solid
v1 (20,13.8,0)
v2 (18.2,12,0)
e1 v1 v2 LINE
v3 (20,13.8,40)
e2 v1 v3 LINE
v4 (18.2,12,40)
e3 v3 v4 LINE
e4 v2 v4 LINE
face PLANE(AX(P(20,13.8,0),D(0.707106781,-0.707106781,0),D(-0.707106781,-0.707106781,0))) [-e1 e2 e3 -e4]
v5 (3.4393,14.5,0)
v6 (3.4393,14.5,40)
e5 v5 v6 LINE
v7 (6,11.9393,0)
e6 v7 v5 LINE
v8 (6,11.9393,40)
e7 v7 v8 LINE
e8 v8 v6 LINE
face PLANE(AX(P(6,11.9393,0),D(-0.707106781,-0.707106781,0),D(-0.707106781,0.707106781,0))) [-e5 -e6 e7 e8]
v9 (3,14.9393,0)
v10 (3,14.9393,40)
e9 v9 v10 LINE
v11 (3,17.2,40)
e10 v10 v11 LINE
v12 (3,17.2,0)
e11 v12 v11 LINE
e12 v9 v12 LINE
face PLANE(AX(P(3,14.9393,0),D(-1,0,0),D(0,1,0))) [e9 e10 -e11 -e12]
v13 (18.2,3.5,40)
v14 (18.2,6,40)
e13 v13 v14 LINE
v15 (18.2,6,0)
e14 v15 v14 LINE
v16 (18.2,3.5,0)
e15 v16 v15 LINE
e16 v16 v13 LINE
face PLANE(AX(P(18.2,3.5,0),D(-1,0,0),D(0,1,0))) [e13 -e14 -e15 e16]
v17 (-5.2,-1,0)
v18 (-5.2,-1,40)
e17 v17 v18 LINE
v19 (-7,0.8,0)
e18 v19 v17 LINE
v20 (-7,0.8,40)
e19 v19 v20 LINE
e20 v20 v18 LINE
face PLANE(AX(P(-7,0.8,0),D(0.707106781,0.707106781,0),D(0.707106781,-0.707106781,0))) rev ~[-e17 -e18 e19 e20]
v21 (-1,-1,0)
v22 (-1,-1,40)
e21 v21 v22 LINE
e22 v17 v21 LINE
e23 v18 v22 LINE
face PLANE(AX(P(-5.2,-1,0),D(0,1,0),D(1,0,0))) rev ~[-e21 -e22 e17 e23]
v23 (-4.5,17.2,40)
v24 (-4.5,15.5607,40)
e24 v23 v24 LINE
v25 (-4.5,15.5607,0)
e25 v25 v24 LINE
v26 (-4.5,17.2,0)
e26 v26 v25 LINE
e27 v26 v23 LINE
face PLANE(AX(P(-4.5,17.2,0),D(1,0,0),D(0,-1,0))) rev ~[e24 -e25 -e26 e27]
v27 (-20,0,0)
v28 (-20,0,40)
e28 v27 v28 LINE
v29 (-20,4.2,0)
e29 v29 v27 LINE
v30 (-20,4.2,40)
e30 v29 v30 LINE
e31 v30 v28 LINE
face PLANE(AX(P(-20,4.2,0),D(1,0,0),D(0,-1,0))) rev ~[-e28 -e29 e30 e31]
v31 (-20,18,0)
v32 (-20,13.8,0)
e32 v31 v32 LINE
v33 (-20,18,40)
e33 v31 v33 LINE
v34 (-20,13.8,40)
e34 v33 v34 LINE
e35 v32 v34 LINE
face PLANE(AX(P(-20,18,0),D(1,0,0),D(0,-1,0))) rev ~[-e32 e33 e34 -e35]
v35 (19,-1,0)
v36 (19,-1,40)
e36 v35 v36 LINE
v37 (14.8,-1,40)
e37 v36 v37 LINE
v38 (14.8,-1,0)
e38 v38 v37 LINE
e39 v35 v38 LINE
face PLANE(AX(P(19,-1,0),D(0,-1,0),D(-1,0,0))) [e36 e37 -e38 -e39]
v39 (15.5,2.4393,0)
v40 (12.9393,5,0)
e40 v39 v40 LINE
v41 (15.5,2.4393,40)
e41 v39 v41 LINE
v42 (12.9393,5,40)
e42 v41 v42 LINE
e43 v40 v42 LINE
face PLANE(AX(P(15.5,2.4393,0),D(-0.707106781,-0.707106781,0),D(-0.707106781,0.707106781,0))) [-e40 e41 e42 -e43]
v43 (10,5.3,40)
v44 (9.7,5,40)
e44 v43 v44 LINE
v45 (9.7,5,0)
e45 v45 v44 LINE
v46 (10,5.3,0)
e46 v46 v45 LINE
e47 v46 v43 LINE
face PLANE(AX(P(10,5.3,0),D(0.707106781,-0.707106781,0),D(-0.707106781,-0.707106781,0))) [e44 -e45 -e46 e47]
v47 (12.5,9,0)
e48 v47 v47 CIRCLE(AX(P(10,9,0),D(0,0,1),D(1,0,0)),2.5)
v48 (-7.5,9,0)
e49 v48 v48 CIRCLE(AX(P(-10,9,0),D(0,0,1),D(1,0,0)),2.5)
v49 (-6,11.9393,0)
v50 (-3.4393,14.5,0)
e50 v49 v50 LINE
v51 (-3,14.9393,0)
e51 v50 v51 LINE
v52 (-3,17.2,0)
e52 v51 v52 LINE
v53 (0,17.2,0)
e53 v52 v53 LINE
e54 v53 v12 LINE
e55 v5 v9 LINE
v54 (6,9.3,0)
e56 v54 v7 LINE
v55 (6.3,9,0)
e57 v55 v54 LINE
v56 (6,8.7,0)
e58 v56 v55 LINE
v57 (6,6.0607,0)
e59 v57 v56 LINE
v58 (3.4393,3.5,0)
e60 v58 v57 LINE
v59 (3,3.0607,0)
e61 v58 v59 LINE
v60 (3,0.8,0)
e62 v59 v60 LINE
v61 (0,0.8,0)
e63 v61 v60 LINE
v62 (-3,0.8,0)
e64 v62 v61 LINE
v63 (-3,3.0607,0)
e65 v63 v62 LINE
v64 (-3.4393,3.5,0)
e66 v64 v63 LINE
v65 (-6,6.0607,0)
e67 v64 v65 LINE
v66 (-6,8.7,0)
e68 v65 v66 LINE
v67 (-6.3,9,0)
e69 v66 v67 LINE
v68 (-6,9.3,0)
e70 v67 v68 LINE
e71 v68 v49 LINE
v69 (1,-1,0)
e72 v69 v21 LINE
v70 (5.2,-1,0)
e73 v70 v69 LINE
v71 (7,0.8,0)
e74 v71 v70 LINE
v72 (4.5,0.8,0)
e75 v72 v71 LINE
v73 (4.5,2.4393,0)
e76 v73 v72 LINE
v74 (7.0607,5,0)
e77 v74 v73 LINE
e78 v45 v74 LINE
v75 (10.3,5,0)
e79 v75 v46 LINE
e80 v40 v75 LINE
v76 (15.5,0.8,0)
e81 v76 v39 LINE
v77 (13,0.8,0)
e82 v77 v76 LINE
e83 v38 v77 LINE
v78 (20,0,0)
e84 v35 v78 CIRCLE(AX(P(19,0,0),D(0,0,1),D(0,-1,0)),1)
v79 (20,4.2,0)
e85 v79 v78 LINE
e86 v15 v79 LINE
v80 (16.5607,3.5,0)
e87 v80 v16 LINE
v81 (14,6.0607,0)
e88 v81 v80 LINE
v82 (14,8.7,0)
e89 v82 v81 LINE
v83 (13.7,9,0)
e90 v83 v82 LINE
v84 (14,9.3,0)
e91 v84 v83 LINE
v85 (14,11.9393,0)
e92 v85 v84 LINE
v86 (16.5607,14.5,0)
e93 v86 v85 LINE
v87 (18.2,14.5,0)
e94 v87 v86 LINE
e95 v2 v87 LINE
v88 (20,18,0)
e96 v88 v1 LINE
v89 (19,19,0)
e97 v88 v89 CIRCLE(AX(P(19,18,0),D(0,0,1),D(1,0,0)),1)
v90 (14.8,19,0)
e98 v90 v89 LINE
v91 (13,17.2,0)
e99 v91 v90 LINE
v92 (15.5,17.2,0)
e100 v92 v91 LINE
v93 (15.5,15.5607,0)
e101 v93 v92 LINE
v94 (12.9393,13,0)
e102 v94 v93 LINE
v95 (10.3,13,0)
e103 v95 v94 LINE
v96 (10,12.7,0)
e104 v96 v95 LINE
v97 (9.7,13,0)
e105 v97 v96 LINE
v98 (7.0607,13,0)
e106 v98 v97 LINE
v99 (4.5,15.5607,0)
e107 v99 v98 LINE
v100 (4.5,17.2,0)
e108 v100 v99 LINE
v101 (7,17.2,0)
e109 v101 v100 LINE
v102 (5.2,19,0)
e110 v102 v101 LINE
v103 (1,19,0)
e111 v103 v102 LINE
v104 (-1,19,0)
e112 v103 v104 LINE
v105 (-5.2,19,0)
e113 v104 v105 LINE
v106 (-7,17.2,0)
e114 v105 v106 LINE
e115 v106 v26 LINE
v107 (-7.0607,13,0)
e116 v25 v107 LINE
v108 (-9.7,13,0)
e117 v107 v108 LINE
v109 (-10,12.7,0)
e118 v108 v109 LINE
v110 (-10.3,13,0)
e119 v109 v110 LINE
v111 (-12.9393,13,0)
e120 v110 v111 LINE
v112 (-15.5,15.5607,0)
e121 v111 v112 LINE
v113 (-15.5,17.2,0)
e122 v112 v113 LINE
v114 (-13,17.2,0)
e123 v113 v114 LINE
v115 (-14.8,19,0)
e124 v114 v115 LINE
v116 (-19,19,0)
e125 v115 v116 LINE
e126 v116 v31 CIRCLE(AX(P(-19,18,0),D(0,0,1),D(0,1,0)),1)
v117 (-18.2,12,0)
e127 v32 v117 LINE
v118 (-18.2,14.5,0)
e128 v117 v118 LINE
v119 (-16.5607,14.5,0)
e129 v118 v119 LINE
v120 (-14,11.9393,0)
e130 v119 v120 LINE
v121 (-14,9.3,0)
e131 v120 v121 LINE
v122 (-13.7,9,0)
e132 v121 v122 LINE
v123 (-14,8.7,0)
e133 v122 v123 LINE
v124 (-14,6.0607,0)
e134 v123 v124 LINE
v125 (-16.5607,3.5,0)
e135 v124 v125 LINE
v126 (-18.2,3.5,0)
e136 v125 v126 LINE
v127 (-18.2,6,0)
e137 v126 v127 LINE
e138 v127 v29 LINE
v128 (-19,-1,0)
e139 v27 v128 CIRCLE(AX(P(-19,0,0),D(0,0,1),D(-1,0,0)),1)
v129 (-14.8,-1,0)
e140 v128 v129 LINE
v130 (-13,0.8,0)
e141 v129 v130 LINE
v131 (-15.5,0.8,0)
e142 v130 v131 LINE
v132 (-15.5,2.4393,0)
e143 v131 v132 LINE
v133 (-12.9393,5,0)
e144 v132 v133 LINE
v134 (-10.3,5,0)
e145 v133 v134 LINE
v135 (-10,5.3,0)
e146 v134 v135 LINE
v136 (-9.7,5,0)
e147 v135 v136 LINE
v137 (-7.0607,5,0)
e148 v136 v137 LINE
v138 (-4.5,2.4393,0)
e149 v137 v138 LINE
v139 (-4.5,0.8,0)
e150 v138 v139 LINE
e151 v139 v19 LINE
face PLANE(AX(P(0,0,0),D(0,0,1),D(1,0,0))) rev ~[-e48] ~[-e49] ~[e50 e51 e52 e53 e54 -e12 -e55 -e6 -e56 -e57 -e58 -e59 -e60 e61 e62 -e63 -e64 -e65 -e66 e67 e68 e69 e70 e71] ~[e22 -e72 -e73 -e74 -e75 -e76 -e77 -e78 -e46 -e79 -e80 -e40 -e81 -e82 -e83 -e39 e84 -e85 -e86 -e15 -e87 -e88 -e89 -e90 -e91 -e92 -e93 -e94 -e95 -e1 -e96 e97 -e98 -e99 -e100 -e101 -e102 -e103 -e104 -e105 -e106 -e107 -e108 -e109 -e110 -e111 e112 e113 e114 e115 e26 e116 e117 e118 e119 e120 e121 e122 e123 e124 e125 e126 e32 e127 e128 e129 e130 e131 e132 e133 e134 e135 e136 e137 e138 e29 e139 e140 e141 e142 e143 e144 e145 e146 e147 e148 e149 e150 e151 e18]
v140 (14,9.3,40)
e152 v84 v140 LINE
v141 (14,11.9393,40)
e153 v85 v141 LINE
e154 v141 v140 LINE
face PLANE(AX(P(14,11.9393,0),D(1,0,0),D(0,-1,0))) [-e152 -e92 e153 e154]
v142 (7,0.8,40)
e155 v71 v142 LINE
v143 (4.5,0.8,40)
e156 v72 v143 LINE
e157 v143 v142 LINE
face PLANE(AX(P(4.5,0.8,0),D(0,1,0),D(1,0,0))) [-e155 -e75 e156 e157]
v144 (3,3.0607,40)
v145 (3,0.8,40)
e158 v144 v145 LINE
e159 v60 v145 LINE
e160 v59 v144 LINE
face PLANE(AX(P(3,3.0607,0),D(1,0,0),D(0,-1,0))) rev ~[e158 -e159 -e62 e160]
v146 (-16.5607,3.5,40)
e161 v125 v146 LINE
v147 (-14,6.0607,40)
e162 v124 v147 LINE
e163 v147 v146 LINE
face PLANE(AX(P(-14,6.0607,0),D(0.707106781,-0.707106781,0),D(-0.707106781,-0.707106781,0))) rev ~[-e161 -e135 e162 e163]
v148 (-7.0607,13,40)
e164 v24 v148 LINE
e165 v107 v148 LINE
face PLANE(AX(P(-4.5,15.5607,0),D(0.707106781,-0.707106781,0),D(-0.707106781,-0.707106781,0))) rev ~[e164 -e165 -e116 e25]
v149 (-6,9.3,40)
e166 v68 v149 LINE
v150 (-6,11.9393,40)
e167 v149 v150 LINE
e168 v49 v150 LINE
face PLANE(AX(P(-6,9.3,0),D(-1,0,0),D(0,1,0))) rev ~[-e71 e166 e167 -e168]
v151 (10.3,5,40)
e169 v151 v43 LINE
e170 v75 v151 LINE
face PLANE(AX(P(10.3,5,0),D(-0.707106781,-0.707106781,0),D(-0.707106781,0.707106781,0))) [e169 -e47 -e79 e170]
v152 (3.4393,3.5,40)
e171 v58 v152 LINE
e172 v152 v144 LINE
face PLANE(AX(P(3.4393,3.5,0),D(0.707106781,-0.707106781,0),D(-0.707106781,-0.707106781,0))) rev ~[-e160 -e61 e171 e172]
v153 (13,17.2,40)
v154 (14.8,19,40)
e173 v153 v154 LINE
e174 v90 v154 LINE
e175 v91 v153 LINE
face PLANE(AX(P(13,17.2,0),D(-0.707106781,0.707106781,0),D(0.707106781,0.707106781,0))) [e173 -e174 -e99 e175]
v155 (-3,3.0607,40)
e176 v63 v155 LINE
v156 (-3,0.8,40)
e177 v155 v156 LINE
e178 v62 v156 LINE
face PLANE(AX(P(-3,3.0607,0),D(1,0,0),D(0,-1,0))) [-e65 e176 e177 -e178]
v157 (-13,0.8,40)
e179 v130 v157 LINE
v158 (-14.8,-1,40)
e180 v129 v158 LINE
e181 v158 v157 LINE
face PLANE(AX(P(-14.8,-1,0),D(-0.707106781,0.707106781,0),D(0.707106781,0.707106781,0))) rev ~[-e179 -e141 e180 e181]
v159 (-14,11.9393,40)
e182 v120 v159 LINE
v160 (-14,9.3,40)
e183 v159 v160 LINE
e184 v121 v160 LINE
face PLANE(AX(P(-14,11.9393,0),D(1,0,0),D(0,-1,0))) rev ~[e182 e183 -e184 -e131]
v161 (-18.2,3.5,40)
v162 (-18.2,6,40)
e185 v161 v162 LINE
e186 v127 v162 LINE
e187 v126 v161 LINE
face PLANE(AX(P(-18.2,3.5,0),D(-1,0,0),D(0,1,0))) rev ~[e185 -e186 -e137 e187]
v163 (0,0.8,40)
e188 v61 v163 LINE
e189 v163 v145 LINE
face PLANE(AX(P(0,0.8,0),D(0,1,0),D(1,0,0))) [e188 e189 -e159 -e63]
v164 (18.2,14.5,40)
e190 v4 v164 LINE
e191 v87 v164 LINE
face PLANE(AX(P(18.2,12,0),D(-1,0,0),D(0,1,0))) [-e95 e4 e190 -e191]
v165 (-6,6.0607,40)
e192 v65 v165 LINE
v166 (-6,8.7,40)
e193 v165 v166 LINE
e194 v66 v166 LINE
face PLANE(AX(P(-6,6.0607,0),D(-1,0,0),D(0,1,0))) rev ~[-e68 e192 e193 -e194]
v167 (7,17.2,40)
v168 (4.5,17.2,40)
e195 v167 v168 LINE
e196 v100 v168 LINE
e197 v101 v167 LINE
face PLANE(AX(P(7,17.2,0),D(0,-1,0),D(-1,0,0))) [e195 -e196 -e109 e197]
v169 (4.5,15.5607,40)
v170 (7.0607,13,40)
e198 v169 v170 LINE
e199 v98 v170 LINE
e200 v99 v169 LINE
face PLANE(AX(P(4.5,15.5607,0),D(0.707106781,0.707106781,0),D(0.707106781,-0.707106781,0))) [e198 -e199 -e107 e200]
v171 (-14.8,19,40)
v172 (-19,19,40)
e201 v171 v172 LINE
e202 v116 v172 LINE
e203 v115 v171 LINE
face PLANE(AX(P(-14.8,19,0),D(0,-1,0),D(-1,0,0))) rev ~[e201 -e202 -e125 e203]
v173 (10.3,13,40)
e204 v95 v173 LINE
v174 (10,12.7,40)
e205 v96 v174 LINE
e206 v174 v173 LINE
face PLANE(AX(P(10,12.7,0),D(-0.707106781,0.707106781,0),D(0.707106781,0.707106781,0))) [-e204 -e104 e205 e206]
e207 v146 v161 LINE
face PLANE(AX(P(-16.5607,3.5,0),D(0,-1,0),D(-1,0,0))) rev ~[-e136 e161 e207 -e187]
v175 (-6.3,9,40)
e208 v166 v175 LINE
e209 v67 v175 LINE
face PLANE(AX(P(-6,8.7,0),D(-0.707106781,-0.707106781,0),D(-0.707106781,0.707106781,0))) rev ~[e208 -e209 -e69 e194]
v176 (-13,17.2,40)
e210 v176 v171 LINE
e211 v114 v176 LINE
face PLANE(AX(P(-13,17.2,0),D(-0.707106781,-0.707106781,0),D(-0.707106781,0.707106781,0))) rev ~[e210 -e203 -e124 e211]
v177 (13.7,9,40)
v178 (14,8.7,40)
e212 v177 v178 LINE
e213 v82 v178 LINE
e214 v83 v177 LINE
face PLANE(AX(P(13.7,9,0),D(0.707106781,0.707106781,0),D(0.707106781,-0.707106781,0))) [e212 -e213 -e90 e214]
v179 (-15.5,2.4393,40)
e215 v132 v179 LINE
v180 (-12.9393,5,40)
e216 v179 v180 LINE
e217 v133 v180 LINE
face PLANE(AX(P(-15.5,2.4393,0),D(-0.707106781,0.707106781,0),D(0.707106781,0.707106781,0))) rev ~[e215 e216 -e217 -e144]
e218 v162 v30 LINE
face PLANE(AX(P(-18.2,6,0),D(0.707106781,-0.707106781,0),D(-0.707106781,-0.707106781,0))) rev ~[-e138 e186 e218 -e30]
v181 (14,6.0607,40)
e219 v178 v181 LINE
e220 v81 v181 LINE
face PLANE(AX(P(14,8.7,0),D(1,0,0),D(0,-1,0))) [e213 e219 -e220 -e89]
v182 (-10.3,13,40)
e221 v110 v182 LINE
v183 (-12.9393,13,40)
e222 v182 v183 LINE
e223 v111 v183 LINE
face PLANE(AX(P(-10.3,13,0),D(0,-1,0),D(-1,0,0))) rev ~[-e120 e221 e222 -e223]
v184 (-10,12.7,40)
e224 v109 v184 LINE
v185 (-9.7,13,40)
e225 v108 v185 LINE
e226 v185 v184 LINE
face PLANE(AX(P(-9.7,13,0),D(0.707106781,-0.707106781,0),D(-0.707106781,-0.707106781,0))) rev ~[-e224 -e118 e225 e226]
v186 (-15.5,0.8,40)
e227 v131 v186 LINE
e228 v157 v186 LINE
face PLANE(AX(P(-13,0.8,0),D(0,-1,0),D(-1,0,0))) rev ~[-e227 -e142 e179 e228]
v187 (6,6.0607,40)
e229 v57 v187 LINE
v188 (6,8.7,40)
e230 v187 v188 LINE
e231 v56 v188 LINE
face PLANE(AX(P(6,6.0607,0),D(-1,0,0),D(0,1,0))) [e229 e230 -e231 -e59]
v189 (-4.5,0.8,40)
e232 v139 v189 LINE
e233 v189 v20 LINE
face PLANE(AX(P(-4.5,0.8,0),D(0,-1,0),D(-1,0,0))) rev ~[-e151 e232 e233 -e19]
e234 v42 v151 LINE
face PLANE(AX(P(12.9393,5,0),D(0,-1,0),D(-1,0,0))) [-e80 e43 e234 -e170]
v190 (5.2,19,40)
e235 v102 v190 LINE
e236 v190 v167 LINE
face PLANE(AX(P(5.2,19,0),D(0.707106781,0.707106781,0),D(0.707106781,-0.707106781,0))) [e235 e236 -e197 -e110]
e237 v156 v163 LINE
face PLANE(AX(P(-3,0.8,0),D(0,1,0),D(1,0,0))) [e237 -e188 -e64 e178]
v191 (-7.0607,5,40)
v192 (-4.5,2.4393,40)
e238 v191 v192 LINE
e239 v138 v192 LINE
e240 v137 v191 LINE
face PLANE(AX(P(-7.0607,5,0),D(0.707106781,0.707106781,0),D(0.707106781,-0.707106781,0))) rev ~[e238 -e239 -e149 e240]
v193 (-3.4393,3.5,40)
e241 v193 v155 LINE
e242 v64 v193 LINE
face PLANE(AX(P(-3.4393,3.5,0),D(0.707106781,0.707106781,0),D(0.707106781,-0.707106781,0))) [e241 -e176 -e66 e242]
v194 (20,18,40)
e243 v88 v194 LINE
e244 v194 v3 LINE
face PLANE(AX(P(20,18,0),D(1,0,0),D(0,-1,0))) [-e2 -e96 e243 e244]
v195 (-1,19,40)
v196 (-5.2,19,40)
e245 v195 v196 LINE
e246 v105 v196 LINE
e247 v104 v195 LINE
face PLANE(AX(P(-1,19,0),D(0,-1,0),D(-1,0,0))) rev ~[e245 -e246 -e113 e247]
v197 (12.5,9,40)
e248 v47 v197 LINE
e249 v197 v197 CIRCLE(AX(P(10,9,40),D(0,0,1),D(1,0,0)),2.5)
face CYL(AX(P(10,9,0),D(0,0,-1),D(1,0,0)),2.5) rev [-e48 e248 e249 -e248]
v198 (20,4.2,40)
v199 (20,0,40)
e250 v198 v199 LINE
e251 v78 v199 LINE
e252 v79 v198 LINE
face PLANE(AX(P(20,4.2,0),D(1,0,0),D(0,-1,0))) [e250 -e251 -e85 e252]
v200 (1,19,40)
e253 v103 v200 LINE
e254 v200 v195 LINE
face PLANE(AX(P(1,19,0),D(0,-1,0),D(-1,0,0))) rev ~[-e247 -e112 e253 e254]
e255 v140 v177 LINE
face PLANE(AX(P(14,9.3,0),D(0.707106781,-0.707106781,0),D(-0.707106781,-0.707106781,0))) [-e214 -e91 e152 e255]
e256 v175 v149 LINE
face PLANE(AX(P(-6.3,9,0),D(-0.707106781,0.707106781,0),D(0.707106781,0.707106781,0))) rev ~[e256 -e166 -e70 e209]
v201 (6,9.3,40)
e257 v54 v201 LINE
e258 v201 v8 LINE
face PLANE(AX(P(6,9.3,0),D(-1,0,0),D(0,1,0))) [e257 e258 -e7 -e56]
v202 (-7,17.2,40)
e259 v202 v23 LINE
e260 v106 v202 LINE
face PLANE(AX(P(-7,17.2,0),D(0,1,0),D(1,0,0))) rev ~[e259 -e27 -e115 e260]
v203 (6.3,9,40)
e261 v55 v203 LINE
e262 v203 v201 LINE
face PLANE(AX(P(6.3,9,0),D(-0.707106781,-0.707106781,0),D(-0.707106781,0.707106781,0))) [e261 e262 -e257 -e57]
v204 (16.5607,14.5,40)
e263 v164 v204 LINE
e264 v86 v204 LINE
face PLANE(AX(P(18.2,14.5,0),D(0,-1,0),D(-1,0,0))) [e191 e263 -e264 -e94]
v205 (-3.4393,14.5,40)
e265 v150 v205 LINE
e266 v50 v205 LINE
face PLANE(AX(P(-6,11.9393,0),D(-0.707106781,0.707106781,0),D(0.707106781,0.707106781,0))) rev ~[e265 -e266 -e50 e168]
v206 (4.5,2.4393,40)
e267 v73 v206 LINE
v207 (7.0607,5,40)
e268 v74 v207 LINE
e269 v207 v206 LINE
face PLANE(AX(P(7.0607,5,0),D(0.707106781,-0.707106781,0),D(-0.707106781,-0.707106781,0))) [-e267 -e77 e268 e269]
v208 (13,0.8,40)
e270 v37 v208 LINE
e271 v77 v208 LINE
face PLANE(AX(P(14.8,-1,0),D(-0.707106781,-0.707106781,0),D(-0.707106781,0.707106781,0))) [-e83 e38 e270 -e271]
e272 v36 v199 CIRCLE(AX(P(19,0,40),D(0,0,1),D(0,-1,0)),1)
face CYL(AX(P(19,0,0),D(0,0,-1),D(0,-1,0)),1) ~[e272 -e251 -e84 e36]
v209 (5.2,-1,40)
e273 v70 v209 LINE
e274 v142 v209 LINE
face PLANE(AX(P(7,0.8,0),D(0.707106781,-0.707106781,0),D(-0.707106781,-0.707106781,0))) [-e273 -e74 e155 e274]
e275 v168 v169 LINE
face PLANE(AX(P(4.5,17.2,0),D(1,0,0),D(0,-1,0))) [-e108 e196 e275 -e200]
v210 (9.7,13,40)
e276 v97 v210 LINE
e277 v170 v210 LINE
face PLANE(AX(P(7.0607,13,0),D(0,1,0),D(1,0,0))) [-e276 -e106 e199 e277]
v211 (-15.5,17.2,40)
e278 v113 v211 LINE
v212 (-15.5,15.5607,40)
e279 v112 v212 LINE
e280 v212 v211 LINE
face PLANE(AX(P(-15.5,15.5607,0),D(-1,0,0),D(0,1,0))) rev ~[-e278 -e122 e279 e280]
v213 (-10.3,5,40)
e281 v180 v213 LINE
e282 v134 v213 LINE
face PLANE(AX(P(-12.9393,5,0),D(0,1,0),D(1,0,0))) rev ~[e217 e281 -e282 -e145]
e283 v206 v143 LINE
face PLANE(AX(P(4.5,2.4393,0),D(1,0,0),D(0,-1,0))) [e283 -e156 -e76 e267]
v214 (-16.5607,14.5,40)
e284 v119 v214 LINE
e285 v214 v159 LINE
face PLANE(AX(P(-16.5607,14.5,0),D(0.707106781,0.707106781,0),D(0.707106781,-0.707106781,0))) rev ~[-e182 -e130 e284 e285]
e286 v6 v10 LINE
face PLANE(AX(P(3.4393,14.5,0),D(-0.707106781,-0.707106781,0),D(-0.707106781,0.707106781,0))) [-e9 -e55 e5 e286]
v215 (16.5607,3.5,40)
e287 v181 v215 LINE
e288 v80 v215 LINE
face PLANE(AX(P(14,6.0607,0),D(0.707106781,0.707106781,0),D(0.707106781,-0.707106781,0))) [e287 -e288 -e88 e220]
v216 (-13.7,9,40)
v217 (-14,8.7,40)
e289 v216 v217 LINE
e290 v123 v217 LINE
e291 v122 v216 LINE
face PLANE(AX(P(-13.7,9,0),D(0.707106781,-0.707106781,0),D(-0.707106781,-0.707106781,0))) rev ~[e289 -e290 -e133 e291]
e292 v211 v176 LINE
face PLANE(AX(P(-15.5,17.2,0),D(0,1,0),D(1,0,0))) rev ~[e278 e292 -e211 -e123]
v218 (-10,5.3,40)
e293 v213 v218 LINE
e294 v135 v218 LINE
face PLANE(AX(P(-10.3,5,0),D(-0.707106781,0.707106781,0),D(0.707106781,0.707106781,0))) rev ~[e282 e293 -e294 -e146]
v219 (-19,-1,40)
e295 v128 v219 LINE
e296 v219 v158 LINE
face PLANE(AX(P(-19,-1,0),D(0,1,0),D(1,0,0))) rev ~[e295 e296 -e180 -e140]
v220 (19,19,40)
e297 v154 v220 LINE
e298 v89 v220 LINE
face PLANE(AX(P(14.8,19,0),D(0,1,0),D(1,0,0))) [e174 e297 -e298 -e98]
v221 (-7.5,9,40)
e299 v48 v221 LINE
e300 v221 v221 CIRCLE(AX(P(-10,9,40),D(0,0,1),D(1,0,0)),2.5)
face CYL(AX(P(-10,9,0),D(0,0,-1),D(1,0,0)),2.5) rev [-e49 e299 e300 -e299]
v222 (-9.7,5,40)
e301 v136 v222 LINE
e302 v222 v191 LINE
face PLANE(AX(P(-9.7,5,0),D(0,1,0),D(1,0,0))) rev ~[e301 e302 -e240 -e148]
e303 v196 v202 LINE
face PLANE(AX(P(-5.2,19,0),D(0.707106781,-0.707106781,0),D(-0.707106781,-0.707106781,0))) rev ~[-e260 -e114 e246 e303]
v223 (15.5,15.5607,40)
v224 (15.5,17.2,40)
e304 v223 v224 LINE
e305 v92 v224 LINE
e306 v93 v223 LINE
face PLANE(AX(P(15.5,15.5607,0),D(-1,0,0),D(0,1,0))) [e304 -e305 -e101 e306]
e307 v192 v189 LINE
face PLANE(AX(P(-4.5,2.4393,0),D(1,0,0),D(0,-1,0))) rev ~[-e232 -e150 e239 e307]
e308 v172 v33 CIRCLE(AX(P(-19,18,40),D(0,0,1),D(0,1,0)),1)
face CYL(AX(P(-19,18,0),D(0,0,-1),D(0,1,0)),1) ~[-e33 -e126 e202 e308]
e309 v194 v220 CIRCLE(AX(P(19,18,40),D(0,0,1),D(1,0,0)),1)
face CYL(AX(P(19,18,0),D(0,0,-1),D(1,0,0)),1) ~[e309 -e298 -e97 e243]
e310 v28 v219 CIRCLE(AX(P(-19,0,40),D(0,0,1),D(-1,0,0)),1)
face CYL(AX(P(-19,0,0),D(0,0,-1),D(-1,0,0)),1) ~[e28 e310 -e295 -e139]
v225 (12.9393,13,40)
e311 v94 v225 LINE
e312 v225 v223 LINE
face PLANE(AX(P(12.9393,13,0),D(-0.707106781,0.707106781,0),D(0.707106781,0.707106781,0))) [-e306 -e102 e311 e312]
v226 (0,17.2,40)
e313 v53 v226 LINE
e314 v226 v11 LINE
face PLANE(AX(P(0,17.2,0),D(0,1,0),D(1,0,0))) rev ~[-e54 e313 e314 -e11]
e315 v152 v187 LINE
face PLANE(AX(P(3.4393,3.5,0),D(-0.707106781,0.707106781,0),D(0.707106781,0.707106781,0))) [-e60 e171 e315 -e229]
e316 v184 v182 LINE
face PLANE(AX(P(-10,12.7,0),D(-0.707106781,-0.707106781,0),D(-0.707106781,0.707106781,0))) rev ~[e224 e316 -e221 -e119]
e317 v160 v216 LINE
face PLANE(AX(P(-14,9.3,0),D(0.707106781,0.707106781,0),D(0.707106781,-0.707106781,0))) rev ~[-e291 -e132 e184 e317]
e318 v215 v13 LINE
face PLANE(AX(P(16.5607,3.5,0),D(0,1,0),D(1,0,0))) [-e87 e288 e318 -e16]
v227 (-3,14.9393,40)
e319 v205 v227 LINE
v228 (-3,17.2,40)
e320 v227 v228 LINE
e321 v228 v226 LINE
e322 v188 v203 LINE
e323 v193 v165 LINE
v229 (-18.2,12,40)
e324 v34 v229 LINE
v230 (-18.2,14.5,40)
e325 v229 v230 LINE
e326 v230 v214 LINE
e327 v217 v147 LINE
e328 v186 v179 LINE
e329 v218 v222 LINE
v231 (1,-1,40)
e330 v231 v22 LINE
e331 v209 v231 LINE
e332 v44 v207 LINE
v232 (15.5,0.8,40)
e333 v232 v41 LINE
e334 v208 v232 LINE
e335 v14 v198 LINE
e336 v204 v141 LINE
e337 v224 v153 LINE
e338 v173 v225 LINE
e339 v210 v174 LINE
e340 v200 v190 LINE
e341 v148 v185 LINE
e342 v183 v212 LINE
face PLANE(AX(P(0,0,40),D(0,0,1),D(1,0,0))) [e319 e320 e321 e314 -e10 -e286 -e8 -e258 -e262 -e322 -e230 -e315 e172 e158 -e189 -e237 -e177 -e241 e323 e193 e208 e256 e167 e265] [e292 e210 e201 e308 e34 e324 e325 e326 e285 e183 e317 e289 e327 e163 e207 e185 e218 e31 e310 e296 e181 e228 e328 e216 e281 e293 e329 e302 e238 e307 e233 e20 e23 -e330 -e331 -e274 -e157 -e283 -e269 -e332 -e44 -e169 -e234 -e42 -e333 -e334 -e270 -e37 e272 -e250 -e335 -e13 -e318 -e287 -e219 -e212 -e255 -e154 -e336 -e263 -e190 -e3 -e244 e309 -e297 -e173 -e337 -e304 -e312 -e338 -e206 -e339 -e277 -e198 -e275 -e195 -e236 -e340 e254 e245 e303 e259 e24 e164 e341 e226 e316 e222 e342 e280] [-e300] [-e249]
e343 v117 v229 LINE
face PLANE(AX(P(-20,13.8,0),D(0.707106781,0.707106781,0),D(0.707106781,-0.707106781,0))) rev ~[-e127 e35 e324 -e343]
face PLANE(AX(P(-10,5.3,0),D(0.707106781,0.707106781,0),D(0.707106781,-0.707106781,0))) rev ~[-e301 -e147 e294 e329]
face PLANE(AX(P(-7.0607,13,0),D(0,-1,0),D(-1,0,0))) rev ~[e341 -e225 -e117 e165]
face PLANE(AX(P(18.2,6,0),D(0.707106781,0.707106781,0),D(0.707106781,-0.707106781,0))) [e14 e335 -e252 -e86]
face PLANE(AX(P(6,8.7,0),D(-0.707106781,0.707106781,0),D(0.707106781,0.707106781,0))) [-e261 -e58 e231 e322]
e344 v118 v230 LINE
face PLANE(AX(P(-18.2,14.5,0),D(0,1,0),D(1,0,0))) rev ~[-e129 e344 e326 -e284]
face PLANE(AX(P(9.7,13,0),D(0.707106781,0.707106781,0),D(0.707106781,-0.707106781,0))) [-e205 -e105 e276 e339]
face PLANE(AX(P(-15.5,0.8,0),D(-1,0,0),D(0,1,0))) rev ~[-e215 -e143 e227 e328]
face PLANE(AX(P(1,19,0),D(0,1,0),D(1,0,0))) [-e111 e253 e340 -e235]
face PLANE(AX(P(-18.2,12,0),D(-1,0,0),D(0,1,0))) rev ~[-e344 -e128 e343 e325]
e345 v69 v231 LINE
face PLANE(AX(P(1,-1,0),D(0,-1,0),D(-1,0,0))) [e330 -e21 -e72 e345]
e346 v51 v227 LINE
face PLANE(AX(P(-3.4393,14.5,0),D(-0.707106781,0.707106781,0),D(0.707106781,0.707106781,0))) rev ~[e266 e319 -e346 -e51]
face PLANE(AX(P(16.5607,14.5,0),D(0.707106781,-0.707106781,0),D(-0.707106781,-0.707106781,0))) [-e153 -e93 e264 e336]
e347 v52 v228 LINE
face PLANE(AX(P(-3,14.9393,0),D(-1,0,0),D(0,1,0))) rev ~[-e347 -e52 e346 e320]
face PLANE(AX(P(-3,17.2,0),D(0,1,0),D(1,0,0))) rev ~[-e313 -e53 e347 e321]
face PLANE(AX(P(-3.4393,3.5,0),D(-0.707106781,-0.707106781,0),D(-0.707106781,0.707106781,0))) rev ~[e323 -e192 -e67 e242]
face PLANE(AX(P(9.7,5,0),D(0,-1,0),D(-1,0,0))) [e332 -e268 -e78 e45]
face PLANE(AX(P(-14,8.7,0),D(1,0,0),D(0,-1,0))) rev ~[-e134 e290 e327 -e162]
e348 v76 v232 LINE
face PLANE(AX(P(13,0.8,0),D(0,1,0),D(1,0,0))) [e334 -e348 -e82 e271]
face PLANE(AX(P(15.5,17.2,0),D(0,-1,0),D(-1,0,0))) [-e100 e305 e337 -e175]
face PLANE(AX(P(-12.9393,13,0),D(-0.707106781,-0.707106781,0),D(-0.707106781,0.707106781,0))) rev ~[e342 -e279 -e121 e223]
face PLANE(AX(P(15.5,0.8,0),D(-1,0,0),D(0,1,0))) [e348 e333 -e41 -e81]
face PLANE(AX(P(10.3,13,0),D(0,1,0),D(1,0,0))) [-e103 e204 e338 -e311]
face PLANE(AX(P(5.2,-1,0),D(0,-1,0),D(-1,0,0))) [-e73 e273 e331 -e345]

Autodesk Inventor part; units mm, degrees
ref_plane "YZ Plane" through (0, 0, 0) normal (1, 0, 0) x (0, 1, 0)
ref_plane "XZ Plane" through (0, 0, 0) normal (0, 1, 0) x (-1, 0, 0)
ref_plane "XY Plane" through (0, 0, 0) normal (0, 0, 1) x (1, 0, 0)
sketch "Sketch1" plane through (0, 0, 0) normal (0, 0, 1) x (1, 0, 0)
  line L0 (-14, 8.7) -> (-14, 6.0607)
  line L1 (-14, 8.7) -> (-14, 6.0607)
  line L2 (-14, 6.0607) -> (-16.5607, 3.5)
  line L3 (-14, 6.0607) -> (-16.5607, 3.5)
  line L4 (-16.5607, 3.5) -> (-18.2, 3.5)
  line L5 (-16.5607, 3.5) -> (-18.2, 3.5)
  line L6 (-18.2, 3.5) -> (-18.2, 6)
  line L7 (-18.2, 3.5) -> (-18.2, 6)
  line L8 (-20, 4.2) -> (-20, 0)
  line L9 (-18.2, 6) -> (-20, 4.2)
  line L10 (-20, 4.2) -> (-20, 0)
  line L11 (-19, -1) -> (-14.8, -1)
  line L12 (-19, -1) -> (-14.8, -1)
  line L13 (-14.8, -1) -> (-13, 0.8)
  line L14 (-14.8, -1) -> (-13, 0.8)
  line L15 (-15.5, 0.8) -> (-15.5, 2.4393)
  line L16 (-13, 0.8) -> (-15.5, 0.8)
  line L17 (-15.5, 0.8) -> (-15.5, 2.4393)
  line L18 (-12.9393, 5) -> (-10.3, 5)
  line L19 (-15.5, 2.4393) -> (-12.9393, 5)
  line L20 (-12.9393, 5) -> (-10.3, 5)
  line L21 (-10, 5.3) -> (-9.7, 5)
  line L22 (-10.3, 5) -> (-10, 5.3)
  line L23 (-13.7, 9) -> (-14, 8.7)
  line L24 (-13.7, 9) -> (-14, 8.7)
  line L25 (-10, 9) -> (-10, 10.0607)
  circle A0 centre (-10, 9) radius 2.5
  arc A1 (-20, 0) -> (-19, -1) centre (-19, 0) ccw
  arc A2 (-20, 0) -> (-19, -1) centre (-19, 0) ccw
  line L26 (-7.0607, 5) -> (-4.5, 2.4393)
  line L27 (-4.5, 2.4393) -> (-4.5, 0.8)
  line L28 (-4.5, 0.8) -> (-7, 0.8)
  line L29 (-7, 0.8) -> (-5.2, -1)
  line L30 (-3.4393, 3.5) -> (-6, 6.0607)
  line L31 (-1.8, 6) -> (-1.8, 3.5) construction
  line L32 (-1.8, 3.5) -> (-3.4393, 3.5) construction
  line L33 (0, 4.2) -> (-1.8, 6) construction
  line L34 (-5.2, -1) -> (-1, -1)
  line L35 (0, 0) -> (0, 4.2)
  arc A3 (-1, -1) -> (0, 0) centre (-1, 0) ccw construction
  line L36 (-9.7, 5) -> (-7.0607, 5)
  line L37 (-6, 6.0607) -> (-6, 8.7)
  line L38 (-6, 8.7) -> (-6.3, 9)
  line L39 (-10, 5.3) -> (-9.7, 5)
  line L40 (-6, 11.9393) -> (-3.4393, 14.5)
  line L41 (-3.4393, 14.5) -> (-1.8, 14.5) construction
  line L42 (-1.8, 14.5) -> (-1.8, 12) construction
  line L43 (-1.8, 12) -> (0, 13.8) construction
  line L44 (-4.5, 15.5607) -> (-7.0607, 13)
  line L45 (-7, 17.2) -> (-4.5, 17.2)
  line L46 (-4.5, 17.2) -> (-4.5, 15.5607)
  line L47 (-5.2, 19) -> (-7, 17.2)
  line L48 (0, 13.8) -> (0, 18)
  line L49 (-1, 19) -> (-5.2, 19)
  arc A4 (0, 18) -> (-1, 19) centre (-1, 18) ccw construction
  line L50 (-6, 9.3) -> (-6, 11.9393)
  line L51 (-7.0607, 13) -> (-9.7, 13)
  line L52 (-9.7, 13) -> (-10, 12.7)
  line L53 (-6.3, 9) -> (-6, 9.3)
  line L54 (-12.9393, 13) -> (-15.5, 15.5607)
  line L55 (-15.5, 15.5607) -> (-15.5, 17.2)
  line L56 (-15.5, 17.2) -> (-13, 17.2)
  line L57 (-13, 17.2) -> (-14.8, 19)
  line L58 (-16.5607, 14.5) -> (-14, 11.9393)
  line L59 (-18.2, 12) -> (-18.2, 14.5)
  line L60 (-18.2, 14.5) -> (-16.5607, 14.5)
  line L61 (-20, 13.8) -> (-18.2, 12)
  line L62 (-14.8, 19) -> (-19, 19)
  line L63 (-20, 18) -> (-20, 13.8)
  arc A5 (-19, 19) -> (-20, 18) centre (-19, 18) ccw
  line L64 (-10.3, 13) -> (-12.9393, 13)
  line L65 (-14, 11.9393) -> (-14, 9.3)
  line L66 (-14, 9.3) -> (-13.7, 9)
  line L67 (-10, 12.7) -> (-10.3, 13)
  line L68 (14, 8.7) -> (14, 6.0607)
  line L69 (14, 8.7) -> (14, 6.0607)
  line L70 (14, 6.0607) -> (16.5607, 3.5)
  line L71 (14, 6.0607) -> (16.5607, 3.5)
  line L72 (16.5607, 3.5) -> (18.2, 3.5)
  line L73 (16.5607, 3.5) -> (18.2, 3.5)
  line L74 (18.2, 3.5) -> (18.2, 6)
  line L75 (18.2, 3.5) -> (18.2, 6)
  line L76 (20, 4.2) -> (20, 0)
  line L77 (18.2, 6) -> (20, 4.2)
  line L78 (20, 4.2) -> (20, 0)
  line L79 (19, -1) -> (14.8, -1)
  line L80 (19, -1) -> (14.8, -1)
  line L81 (14.8, -1) -> (13, 0.8)
  line L82 (14.8, -1) -> (13, 0.8)
  line L83 (15.5, 0.8) -> (15.5, 2.4393)
  line L84 (13, 0.8) -> (15.5, 0.8)
  line L85 (15.5, 0.8) -> (15.5, 2.4393)
  line L86 (12.9393, 5) -> (10.3, 5)
  line L87 (15.5, 2.4393) -> (12.9393, 5)
  line L88 (12.9393, 5) -> (10.3, 5)
  line L89 (10, 5.3) -> (9.7, 5)
  line L90 (10.3, 5) -> (10, 5.3)
  line L91 (13.7, 9) -> (14, 8.7)
  line L92 (13.7, 9) -> (14, 8.7)
  line L93 (10, 9) -> (10, 10.0607)
  circle A6 centre (10, 9) radius 2.5
  arc A7 (19, -1) -> (20, 0) centre (19, 0) ccw
  arc A8 (19, -1) -> (20, 0) centre (19, 0) ccw
  line L94 (7.0607, 5) -> (4.5, 2.4393)
  line L95 (4.5, 2.4393) -> (4.5, 0.8)
  line L96 (4.5, 0.8) -> (7, 0.8)
  line L97 (7, 0.8) -> (5.2, -1)
  line L98 (3.4393, 3.5) -> (6, 6.0607)
  line L99 (1.8, 6) -> (1.8, 3.5) construction
  line L100 (1.8, 3.5) -> (3.4393, 3.5) construction
  line L101 (0, 4.2) -> (1.8, 6) construction
  line L102 (5.2, -1) -> (1, -1)
  line L103 (9.7, 5) -> (7.0607, 5)
  line L104 (6, 6.0607) -> (6, 8.7)
  line L105 (6, 8.7) -> (6.3, 9)
  line L106 (10, 5.3) -> (9.7, 5)
  line L107 (6, 11.9393) -> (3.4393, 14.5)
  line L108 (3.4393, 14.5) -> (1.8, 14.5) construction
  line L109 (1.8, 14.5) -> (1.8, 12) construction
  line L110 (1.8, 12) -> (0, 13.8) construction
  line L111 (4.5, 15.5607) -> (7.0607, 13)
  line L112 (7, 17.2) -> (4.5, 17.2)
  line L113 (4.5, 17.2) -> (4.5, 15.5607)
  line L114 (5.2, 19) -> (7, 17.2)
  line L115 (1, 19) -> (5.2, 19)
  line L116 (6, 9.3) -> (6, 11.9393)
  line L117 (7.0607, 13) -> (9.7, 13)
  line L118 (9.7, 13) -> (10, 12.7)
  line L119 (6.3, 9) -> (6, 9.3)
  line L120 (12.9393, 13) -> (15.5, 15.5607)
  line L121 (15.5, 15.5607) -> (15.5, 17.2)
  line L122 (15.5, 17.2) -> (13, 17.2)
  line L123 (13, 17.2) -> (14.8, 19)
  line L124 (16.5607, 14.5) -> (14, 11.9393)
  line L125 (18.2, 12) -> (18.2, 14.5)
  line L126 (18.2, 14.5) -> (16.5607, 14.5)
  line L127 (20, 13.8) -> (18.2, 12)
  line L128 (14.8, 19) -> (19, 19)
  line L129 (20, 18) -> (20, 13.8)
  arc A9 (20, 18) -> (19, 19) centre (19, 18) ccw
  line L130 (10.3, 13) -> (12.9393, 13)
  line L131 (14, 11.9393) -> (14, 9.3)
  line L132 (14, 9.3) -> (13.7, 9)
  line L133 (10, 12.7) -> (10.3, 13)
  line L134 (1, 19) -> (-1, 19)
  line L135 (1, -1) -> (-1, -1)
  line L136 (-1.8, 14.5) -> (1.8, 14.5) construction
  line L137 (-1.8, 3.5) -> (1.8, 3.5) construction
  line L138 (-4.5, 0.8) -> (-3, 0.8) construction
  line L139 (4.5, 0.8) -> (3, 0.8) construction
  line L140 (-3.4393, 3.5) -> (-3, 3.0607)
  line L141 (-3, 3.0607) -> (-3, 0.8)
  line L142 (3.4393, 3.5) -> (3, 3.0607)
  line L143 (3, 3.0607) -> (3, 0.8)
  line L144 (-3, 0.8) -> (3, 0.8)
  line L145 (6.3, 9) -> (0, 9)
  line L146 (-3.4393, 14.5) -> (-3, 14.9393)
  line L147 (-3, 14.9393) -> (-3, 17.2)
  line L148 (3.4393, 14.5) -> (3, 14.9393)
  line L149 (3, 14.9393) -> (3, 17.2)
  line L150 (-3, 17.2) -> (3, 17.2)
  point P0 (0, 0)
  point P1 (-1, 0)
  point P2 (-1, 18)
  point P3 (-19, 18)
  point P4 (1, 0)
  point P5 (1, 18)
  point P6 (19, 18)
  dimension "d2" = 360
  dimension "d7" = 1.5
extrude "Extrusion1" add sketch "Sketch1" along normal blind 40
properties part number "20x40 aluminum" material "Aluminum 6061"
